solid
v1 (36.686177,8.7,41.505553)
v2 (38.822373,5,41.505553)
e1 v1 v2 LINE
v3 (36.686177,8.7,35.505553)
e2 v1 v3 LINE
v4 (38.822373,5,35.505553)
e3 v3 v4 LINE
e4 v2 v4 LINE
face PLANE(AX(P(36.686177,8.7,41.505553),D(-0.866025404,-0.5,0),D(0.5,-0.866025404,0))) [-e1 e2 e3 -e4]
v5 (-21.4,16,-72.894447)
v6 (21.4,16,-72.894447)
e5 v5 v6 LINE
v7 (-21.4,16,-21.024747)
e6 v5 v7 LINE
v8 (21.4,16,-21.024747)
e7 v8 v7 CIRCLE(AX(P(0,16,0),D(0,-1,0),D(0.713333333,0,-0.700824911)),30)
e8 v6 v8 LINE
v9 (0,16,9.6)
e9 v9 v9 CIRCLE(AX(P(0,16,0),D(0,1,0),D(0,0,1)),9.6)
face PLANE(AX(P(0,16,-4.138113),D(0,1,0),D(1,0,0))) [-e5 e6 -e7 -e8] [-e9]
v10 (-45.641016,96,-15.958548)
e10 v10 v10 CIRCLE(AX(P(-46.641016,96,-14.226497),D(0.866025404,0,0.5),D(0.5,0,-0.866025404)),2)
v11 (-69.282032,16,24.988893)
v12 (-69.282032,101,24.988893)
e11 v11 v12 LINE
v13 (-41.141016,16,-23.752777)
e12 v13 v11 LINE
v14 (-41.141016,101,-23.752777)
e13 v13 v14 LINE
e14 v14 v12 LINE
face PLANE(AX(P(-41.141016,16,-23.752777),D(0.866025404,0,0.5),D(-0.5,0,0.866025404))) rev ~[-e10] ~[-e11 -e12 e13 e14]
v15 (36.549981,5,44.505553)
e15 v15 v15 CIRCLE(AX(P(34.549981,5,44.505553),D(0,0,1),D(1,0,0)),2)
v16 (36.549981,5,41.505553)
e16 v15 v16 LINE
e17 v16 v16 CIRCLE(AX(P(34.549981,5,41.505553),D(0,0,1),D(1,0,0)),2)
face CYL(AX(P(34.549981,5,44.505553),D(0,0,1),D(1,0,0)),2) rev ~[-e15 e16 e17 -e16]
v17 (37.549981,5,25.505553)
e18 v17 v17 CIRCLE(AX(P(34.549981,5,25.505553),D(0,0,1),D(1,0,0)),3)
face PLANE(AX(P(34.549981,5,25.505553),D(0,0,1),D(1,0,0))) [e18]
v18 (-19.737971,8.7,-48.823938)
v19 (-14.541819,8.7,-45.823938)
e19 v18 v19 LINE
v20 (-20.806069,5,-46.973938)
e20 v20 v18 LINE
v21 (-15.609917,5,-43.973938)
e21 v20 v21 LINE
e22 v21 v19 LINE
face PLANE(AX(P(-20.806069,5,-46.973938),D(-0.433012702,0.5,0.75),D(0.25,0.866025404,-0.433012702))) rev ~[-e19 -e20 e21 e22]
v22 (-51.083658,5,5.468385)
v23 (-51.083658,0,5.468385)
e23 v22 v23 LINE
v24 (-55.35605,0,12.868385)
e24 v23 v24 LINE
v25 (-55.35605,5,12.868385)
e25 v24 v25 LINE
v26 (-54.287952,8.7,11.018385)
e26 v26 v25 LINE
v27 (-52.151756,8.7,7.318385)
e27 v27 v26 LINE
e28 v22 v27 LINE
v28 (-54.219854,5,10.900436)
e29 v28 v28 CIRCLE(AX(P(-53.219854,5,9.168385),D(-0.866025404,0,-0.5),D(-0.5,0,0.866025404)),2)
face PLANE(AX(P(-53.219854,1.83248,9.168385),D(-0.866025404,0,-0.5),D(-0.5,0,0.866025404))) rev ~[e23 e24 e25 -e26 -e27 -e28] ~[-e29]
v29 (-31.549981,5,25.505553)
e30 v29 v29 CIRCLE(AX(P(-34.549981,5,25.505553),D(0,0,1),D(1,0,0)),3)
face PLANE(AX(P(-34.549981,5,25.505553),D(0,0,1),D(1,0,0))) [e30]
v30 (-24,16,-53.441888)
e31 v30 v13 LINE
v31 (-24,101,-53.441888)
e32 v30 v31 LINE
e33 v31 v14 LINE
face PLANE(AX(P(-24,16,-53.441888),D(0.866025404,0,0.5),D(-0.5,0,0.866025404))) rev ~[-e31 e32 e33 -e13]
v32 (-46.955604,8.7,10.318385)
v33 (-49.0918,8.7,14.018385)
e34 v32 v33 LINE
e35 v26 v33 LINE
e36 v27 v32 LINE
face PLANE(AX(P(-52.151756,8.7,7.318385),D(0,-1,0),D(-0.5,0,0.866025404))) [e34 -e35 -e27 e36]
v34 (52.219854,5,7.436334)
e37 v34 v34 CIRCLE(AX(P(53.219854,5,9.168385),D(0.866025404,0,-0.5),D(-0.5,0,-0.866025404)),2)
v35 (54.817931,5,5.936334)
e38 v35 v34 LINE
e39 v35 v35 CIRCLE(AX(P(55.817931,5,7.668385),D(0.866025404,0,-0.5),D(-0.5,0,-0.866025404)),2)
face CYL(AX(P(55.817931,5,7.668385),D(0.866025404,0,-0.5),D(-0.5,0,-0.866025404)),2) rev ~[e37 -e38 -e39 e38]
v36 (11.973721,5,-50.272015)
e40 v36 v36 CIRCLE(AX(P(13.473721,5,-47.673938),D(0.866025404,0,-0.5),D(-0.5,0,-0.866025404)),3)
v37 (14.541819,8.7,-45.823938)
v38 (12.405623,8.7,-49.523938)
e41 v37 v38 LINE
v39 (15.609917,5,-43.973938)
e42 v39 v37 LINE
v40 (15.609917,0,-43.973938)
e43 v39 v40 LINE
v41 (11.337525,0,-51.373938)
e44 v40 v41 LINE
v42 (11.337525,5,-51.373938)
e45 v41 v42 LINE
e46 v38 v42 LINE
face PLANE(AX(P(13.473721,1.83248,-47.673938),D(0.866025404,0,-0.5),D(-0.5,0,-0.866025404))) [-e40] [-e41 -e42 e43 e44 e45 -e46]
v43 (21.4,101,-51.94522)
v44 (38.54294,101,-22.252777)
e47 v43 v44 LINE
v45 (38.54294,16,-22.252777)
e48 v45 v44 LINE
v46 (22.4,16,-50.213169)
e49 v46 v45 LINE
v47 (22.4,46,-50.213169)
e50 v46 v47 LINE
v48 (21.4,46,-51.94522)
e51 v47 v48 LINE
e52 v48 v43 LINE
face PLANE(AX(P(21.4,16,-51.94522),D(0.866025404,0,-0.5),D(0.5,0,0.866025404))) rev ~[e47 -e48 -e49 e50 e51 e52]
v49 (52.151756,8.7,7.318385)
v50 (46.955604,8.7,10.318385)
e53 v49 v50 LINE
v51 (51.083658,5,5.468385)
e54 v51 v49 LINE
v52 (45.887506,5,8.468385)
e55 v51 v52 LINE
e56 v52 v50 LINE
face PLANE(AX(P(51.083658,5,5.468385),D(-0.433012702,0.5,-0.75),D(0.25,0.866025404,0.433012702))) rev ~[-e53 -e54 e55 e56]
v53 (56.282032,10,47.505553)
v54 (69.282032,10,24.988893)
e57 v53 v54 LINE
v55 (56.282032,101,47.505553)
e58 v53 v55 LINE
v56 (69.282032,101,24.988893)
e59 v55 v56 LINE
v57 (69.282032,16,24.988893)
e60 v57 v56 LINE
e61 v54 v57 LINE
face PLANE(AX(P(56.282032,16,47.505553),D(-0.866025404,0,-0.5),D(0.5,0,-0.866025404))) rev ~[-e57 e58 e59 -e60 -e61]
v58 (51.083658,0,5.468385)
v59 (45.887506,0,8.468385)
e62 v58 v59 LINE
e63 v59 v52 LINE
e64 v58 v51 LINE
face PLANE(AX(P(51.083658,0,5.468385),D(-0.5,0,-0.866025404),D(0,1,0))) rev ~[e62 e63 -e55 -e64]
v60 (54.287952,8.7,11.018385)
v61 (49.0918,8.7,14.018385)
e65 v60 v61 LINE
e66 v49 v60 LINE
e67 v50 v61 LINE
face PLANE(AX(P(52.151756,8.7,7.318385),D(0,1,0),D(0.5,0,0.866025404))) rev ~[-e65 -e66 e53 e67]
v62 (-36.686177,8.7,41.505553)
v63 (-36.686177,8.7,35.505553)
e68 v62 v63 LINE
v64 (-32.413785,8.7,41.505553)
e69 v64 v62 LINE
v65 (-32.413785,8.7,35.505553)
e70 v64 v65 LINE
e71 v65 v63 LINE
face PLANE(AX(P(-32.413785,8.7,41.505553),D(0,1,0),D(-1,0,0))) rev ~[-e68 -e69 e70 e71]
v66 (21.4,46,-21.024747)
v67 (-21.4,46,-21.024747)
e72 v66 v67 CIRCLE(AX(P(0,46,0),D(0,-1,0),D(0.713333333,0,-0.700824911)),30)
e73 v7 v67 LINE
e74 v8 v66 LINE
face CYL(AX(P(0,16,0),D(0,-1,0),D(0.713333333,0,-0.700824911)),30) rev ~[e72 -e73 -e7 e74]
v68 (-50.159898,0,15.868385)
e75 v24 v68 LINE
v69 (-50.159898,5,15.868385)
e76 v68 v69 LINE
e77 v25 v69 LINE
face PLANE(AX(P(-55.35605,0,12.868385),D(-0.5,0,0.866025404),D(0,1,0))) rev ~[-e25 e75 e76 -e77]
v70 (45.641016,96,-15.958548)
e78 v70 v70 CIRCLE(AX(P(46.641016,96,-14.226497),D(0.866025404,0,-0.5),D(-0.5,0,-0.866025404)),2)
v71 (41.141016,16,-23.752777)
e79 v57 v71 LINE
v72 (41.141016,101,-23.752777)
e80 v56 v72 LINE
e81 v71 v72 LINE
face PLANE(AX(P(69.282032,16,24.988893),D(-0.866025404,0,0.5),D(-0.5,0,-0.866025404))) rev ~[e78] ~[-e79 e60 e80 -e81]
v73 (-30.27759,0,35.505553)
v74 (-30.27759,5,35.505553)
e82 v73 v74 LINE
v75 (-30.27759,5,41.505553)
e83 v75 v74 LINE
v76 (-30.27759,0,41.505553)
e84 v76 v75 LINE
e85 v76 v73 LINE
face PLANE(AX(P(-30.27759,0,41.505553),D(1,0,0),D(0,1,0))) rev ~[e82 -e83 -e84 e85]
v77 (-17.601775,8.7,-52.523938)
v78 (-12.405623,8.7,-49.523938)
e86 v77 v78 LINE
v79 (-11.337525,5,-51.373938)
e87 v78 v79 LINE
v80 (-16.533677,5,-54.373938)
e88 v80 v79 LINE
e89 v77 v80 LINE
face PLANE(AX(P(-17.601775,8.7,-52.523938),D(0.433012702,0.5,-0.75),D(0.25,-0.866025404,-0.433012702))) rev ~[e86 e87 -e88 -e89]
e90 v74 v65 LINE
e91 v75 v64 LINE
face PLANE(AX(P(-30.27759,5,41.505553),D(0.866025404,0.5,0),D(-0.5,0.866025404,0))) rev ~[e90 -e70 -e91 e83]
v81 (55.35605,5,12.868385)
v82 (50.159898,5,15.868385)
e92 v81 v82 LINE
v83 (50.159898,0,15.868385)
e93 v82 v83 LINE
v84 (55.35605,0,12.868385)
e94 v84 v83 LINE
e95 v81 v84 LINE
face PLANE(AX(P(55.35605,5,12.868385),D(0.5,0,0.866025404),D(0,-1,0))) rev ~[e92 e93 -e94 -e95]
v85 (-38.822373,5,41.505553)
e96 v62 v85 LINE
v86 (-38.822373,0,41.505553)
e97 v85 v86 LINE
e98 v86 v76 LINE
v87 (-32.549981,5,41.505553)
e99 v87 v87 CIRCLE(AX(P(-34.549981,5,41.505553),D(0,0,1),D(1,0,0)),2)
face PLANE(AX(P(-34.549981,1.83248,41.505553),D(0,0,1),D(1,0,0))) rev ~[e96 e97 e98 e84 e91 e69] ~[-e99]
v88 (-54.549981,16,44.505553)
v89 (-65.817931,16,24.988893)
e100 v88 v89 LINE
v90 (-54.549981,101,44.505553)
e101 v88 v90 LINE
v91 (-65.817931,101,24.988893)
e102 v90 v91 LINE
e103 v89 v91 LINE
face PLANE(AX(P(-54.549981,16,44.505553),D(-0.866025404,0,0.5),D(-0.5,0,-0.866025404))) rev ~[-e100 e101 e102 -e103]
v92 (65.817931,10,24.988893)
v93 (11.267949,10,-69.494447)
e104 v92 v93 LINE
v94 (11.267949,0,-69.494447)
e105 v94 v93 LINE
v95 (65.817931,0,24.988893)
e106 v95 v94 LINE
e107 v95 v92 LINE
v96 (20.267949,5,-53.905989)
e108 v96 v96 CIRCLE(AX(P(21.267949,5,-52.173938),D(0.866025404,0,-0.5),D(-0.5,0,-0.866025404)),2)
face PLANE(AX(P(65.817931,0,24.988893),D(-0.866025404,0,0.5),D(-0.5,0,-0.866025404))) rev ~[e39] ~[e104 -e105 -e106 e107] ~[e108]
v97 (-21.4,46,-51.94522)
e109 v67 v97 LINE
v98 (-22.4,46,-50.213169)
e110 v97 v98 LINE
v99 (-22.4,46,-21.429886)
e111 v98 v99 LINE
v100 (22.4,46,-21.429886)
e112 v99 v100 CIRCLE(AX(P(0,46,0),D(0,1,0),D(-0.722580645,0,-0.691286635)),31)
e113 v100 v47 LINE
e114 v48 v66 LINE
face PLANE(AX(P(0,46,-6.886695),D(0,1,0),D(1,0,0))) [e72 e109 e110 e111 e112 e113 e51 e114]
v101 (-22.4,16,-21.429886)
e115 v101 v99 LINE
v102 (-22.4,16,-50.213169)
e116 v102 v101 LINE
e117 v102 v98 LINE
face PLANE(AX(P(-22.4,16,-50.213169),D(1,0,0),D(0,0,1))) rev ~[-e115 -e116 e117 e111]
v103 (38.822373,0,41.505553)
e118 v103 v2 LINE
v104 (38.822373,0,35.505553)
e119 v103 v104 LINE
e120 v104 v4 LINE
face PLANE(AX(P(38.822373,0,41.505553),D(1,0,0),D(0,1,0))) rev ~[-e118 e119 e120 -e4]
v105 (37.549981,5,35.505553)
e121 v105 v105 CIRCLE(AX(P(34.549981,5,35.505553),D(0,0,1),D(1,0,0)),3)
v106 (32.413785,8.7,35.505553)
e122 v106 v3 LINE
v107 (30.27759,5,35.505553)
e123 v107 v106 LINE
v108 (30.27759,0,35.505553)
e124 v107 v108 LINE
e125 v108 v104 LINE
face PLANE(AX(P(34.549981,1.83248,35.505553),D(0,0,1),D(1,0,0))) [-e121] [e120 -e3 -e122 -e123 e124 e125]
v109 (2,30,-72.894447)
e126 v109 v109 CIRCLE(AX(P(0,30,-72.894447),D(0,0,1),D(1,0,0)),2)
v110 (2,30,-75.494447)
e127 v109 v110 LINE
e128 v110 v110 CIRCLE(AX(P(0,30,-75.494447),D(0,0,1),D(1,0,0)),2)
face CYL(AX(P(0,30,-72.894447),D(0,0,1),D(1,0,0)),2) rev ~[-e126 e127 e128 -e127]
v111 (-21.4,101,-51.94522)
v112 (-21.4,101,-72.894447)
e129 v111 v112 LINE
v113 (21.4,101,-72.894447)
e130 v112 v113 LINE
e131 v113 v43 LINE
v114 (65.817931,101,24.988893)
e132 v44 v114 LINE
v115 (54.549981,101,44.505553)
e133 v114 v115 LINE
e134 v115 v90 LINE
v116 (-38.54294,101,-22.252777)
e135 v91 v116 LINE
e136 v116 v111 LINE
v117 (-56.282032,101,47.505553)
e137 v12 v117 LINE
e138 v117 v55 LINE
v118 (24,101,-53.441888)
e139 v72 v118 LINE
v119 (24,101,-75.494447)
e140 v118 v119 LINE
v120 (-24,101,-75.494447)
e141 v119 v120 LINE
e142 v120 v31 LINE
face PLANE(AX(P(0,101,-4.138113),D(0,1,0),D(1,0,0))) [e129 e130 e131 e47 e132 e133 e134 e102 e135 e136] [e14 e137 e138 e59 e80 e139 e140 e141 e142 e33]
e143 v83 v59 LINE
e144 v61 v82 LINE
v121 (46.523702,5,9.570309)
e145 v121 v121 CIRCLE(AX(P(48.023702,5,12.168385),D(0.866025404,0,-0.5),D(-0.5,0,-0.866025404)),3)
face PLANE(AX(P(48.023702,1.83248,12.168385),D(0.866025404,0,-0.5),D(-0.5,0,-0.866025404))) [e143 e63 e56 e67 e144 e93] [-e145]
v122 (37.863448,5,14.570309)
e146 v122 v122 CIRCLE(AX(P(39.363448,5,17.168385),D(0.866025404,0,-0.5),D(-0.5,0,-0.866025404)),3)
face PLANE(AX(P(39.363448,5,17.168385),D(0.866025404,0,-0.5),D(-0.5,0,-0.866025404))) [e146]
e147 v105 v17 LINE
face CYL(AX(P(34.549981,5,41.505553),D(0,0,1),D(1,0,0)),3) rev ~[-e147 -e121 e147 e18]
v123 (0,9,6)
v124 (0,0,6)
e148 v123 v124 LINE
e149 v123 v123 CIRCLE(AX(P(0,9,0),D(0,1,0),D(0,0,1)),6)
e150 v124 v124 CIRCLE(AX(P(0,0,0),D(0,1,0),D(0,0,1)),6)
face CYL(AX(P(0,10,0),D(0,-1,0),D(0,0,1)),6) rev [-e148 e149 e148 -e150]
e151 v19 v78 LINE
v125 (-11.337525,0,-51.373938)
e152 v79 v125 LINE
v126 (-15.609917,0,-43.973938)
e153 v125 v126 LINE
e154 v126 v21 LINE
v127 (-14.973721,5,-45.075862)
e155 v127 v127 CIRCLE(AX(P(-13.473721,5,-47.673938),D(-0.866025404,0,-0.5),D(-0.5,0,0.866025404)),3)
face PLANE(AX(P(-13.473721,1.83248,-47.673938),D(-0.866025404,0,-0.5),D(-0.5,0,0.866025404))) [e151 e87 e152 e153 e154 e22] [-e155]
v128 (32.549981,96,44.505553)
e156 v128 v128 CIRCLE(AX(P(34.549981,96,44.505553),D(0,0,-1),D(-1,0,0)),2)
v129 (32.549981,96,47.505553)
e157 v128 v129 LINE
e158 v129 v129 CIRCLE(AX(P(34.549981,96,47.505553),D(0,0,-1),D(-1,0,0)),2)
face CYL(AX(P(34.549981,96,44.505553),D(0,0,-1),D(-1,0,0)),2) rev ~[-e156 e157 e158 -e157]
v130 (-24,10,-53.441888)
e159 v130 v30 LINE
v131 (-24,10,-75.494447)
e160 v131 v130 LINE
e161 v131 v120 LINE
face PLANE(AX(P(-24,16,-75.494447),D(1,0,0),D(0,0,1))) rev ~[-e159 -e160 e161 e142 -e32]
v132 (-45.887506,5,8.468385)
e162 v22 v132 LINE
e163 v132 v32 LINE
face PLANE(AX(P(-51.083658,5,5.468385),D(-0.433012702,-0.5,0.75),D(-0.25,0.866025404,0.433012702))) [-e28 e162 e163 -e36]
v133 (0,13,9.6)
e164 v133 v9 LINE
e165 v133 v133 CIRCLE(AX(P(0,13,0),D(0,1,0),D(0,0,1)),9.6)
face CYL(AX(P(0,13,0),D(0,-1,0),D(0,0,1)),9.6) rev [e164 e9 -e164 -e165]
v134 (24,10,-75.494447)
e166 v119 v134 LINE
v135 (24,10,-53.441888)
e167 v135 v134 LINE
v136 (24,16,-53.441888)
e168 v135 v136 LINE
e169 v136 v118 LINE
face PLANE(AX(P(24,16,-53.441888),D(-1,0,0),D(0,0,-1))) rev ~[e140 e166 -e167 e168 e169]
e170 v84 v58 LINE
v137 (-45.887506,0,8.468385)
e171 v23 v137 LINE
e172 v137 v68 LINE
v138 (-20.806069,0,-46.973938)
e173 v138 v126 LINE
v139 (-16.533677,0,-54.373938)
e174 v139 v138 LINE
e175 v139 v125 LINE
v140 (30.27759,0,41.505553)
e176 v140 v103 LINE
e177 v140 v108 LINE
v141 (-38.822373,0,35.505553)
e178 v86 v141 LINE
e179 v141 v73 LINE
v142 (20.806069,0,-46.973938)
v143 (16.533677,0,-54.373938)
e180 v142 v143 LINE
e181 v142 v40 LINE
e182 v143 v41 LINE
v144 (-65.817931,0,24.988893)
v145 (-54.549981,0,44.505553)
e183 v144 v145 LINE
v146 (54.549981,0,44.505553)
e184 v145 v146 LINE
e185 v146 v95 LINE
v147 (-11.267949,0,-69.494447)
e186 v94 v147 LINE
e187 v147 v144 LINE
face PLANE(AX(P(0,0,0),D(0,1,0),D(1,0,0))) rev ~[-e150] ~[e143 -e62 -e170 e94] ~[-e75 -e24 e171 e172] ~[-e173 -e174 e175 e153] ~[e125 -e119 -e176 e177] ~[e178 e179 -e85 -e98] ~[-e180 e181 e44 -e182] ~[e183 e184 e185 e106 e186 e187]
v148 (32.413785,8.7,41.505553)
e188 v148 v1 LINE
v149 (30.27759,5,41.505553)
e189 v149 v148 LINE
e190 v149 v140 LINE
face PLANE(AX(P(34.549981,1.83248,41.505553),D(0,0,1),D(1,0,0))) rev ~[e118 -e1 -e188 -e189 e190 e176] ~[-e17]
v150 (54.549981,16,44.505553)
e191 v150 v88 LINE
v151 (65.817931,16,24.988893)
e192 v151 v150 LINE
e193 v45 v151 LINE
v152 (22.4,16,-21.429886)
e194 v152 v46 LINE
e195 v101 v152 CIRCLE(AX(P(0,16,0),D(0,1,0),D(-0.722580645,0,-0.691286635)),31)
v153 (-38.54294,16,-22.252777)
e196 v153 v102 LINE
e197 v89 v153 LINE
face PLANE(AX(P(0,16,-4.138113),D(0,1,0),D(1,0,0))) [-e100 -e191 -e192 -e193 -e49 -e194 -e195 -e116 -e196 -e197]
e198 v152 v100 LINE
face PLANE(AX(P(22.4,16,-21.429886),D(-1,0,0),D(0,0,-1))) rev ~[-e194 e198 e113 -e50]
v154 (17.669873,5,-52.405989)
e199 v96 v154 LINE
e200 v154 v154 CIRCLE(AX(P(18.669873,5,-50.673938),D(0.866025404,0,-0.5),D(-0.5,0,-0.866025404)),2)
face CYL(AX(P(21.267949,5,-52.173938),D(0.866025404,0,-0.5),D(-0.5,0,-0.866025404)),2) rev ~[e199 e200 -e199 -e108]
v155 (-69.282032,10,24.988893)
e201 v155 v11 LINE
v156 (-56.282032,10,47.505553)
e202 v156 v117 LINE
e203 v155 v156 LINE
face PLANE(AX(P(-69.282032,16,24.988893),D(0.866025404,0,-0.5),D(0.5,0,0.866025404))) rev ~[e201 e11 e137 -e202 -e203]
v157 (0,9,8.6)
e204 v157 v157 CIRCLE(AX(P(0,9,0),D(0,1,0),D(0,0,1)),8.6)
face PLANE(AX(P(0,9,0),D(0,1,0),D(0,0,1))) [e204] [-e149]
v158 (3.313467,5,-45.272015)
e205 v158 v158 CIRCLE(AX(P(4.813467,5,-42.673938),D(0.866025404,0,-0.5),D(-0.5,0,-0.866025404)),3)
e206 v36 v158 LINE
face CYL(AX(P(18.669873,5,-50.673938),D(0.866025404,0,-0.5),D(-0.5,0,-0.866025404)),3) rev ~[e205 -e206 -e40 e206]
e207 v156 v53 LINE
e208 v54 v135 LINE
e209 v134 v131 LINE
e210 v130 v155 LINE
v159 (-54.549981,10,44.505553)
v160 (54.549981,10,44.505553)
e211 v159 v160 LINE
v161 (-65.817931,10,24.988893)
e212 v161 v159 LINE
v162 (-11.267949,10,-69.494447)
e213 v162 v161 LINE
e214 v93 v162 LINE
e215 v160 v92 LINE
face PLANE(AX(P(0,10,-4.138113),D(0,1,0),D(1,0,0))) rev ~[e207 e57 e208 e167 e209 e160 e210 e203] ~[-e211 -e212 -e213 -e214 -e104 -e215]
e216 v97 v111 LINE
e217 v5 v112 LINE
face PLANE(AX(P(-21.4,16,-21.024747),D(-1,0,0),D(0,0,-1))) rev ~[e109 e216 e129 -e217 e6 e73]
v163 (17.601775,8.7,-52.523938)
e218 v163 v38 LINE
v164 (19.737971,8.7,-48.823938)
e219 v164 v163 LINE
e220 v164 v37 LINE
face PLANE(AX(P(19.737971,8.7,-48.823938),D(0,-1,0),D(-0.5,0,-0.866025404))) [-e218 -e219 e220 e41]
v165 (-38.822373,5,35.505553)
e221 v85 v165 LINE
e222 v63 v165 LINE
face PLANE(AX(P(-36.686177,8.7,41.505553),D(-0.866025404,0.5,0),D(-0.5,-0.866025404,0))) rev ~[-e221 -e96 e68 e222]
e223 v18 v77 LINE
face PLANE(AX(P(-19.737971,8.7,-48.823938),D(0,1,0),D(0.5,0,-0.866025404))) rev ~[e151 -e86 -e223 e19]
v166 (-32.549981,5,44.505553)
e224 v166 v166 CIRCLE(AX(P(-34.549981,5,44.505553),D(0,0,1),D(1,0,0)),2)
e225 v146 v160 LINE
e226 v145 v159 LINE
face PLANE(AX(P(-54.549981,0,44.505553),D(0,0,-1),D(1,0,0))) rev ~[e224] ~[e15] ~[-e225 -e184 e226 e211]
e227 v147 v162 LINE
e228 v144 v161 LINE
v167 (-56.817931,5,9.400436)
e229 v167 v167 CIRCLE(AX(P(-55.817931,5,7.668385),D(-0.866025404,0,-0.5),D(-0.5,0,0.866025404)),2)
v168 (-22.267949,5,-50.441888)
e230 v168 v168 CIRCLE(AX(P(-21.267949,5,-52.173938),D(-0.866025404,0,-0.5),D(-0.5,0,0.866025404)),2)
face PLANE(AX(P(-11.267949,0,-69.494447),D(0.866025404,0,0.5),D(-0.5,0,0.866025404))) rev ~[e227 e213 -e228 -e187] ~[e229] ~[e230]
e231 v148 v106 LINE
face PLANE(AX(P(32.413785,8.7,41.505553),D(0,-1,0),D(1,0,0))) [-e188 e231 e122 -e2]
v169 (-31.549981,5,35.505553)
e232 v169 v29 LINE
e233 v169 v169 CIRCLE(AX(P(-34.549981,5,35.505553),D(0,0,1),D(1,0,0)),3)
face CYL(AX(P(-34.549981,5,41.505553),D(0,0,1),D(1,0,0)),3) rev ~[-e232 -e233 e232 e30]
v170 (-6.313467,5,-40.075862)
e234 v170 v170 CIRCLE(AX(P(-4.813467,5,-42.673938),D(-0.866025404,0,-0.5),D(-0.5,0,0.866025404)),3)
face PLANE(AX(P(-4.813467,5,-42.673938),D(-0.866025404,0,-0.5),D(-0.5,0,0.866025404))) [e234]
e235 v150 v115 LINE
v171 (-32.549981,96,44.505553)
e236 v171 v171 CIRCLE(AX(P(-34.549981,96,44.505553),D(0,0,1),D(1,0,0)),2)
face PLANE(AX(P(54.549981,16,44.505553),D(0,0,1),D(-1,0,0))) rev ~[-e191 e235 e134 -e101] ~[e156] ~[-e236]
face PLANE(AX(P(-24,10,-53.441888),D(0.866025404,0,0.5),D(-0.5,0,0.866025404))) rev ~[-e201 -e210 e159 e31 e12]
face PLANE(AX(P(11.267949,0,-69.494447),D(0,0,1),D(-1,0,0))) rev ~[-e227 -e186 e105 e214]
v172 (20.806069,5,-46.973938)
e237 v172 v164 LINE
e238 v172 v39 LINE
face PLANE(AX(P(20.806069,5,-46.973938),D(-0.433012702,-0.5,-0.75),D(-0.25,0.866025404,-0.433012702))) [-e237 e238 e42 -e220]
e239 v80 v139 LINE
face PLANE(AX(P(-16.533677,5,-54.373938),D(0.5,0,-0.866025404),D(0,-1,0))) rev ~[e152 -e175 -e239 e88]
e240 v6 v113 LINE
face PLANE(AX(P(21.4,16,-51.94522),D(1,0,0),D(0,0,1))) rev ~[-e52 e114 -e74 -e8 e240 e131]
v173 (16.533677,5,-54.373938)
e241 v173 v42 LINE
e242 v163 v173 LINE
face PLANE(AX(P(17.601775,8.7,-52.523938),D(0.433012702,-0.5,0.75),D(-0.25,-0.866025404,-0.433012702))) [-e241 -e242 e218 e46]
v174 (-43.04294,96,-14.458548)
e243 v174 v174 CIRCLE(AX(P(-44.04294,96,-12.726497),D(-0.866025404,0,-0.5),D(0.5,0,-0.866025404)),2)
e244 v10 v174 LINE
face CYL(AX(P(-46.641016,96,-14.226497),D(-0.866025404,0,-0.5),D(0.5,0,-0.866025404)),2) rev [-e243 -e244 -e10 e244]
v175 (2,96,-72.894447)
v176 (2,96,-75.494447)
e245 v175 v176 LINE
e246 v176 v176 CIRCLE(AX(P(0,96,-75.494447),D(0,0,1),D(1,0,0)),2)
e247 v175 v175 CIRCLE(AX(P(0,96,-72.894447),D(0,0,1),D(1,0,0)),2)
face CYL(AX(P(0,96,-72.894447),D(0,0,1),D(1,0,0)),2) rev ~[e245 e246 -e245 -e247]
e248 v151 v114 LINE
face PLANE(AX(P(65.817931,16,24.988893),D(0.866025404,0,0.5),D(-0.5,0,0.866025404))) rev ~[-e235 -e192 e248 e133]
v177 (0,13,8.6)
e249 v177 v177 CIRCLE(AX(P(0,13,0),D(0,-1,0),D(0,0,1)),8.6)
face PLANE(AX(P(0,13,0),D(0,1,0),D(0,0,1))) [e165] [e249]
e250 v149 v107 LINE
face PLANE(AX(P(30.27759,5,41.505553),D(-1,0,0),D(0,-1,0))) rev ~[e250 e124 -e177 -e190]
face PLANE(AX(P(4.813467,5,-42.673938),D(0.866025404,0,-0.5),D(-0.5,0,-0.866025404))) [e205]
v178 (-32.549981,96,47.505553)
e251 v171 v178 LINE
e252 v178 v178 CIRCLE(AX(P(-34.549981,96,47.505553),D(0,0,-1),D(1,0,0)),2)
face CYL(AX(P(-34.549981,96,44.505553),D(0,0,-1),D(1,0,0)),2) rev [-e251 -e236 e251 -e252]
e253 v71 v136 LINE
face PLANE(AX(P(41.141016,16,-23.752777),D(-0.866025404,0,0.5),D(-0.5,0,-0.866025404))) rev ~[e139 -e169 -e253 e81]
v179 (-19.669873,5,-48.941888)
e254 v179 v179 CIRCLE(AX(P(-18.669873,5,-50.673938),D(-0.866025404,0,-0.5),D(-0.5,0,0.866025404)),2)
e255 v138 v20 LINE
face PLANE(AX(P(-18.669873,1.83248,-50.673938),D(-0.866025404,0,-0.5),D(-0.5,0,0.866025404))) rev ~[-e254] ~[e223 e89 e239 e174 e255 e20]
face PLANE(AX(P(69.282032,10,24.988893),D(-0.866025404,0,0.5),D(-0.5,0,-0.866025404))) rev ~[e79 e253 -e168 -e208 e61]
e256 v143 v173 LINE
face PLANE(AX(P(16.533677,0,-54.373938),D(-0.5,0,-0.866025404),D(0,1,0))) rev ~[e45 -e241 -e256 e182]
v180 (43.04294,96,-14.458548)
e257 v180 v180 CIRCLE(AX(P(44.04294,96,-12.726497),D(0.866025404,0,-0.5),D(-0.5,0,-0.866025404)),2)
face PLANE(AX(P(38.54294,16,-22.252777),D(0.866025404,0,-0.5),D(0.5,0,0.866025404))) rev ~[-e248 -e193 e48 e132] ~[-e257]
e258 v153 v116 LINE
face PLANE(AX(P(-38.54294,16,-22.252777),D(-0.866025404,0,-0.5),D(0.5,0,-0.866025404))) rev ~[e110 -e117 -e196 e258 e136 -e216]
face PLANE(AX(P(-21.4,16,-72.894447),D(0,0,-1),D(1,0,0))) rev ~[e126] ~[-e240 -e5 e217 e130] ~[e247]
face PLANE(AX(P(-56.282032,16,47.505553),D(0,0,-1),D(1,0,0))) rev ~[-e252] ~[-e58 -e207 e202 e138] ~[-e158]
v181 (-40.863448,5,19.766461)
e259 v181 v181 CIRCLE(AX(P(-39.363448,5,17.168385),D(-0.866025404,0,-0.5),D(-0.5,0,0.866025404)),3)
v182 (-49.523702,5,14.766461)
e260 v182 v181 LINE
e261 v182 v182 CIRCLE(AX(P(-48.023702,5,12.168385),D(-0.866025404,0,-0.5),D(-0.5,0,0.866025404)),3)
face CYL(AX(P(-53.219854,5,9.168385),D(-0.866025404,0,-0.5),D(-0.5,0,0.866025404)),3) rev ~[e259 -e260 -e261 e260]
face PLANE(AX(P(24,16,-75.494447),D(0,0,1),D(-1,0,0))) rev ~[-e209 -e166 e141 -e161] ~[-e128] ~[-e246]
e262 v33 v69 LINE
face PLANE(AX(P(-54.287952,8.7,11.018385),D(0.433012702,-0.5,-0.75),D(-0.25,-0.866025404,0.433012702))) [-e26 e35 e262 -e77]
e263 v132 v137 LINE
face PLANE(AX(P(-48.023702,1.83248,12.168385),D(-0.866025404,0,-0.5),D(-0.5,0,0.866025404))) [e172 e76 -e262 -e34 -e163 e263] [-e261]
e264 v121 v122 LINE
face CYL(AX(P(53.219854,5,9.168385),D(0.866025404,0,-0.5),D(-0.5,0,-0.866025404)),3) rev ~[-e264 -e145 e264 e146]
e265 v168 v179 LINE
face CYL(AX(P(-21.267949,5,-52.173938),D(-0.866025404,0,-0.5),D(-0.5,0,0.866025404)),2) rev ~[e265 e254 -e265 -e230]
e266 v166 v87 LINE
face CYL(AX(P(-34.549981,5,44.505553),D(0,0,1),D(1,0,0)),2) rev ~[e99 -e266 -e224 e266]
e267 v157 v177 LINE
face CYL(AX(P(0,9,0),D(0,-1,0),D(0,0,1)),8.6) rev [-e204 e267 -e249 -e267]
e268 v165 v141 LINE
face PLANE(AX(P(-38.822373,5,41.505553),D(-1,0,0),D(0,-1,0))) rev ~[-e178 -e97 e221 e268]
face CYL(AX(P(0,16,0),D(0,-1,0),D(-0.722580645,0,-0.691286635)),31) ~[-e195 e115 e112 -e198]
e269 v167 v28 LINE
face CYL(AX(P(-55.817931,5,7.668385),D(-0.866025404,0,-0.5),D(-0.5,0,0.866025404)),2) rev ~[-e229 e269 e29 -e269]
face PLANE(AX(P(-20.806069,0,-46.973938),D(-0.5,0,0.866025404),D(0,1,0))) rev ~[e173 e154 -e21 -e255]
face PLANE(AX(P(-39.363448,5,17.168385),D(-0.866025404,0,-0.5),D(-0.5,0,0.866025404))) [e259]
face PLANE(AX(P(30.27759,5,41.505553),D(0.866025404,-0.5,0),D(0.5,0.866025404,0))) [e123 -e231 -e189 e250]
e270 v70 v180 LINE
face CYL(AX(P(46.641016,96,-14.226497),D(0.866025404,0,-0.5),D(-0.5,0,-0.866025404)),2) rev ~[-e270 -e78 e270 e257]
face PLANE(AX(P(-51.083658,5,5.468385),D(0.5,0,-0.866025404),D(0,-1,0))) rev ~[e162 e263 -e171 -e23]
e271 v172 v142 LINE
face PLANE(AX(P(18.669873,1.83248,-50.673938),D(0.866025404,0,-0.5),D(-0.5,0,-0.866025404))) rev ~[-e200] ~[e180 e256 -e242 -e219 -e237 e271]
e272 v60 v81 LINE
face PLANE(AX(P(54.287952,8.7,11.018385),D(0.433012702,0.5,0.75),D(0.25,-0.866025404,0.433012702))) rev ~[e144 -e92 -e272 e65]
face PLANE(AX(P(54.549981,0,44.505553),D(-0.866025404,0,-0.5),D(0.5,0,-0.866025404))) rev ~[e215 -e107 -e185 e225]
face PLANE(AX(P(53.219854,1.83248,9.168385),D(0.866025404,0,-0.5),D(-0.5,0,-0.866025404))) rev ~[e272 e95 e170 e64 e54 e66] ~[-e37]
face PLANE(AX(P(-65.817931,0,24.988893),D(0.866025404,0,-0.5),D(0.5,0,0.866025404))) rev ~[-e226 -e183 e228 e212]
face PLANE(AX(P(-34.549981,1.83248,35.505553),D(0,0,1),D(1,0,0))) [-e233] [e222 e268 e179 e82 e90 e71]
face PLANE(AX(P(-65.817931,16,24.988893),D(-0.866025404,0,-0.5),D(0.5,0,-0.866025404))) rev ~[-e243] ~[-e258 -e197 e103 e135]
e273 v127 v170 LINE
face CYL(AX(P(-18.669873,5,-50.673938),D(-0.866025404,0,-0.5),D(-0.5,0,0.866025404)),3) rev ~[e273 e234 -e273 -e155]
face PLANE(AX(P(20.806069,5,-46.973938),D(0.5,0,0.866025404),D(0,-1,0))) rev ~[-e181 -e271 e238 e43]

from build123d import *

# Parameters (mm, degrees)
SKETCH1_R           = 6
BOSS_EXTRUDE1_DEPTH = 10
BOSS_EXTRUDE2_START = 10
SKETCH1_3_R         = 6
BOSS_EXTRUDE2_DEPTH = 6
BOSS_EXTRUDE3_START = 16
BOSS_EXTRUDE3_DEPTH = 85
SKETCH3_R           = 2
CUT_EXTRUDE1_DEPTH  = 3
CUT_EXTRUDE7_START  = -3
SKETCH3_8_R         = 2
SKETCH3_8_R_2       = 3
CUT_EXTRUDE7_DEPTH  = 6
CUT_EXTRUDE8_START  = -3
SKETCH3_11_R        = 3
SKETCH3_11_R_2      = 2
CUT_EXTRUDE8_DEPTH  = 16
CIRPATTERN1_COUNT   = 3
SKETCH4_R           = 2
CUT_EXTRUDE9_DEPTH  = 16
BOSS_EXTRUDE4_DEPTH = 30
SKETCH6_R           = 2
CUT_EXTRUDE10_DEPTH = 30
SKETCH8_R           = 2
CUT_EXTRUDE11_DEPTH = 30
CUT_EXTRUDE12_START = 13
SKETCH1_5_R         = 9.6
SKETCH1_5_R_2       = 8.6
SKETCH1_5_R_3       = 6
CUT_EXTRUDE12_DEPTH = 3
CUT_EXTRUDE13_START = 9
SKETCH1_6_R         = 8.6
SKETCH1_6_R_2       = 6
CUT_EXTRUDE13_DEPTH = 7


with BuildPart() as part:
    # Sketch1 → Boss-Extrude1 (new body)
    with BuildSketch(Plane(origin=(0, 0, 0), x_dir=(1, 0, 0), z_dir=(0, 1, 0))):
        Polygon((-11.267949192, 69.494446501), (-65.817930688, -24.988893001), (-54.549981495, -44.505553499), (54.549981495, -44.505553499), (65.817930688, -24.988893001), (11.267949192, 69.494446501), align=None)
        with Locations(Location((0, 0, 0), (0, 0, 270))):
            Circle(SKETCH1_R, mode=Mode.SUBTRACT)
    extrude(amount=BOSS_EXTRUDE1_DEPTH)

    # Sketch1<3> → Boss-Extrude2 (add)
    with BuildSketch(Plane(origin=(0, 0, 0), x_dir=(1, 0, 0), z_dir=(0, 1, 0)).offset(BOSS_EXTRUDE2_START)):
        Polygon((24, 75.494446501), (-24, 75.494446501), (-24, 53.441887617), (-69.282032303, -24.988893001), (-56.282032303, -47.505553499), (56.282032303, -47.505553499), (69.282032303, -24.988893001), (24, 53.441887617), align=None)
        with Locations(Location((0, 0, 0), (0, 0, 270))):
            Circle(SKETCH1_3_R, mode=Mode.SUBTRACT)
    extrude(amount=BOSS_EXTRUDE2_DEPTH)

    # Sketch1<4> → Boss-Extrude3 (add)
    with BuildSketch(Plane(origin=(0, 0, 0), x_dir=(1, 0, 0), z_dir=(0, 1, 0)).offset(BOSS_EXTRUDE3_START)):
        Polygon((24, 75.494446501), (-24, 75.494446501), (-24, 53.441887617), (-41.141016151, 23.75277675), (-69.282032303, -24.988893001), (-56.282032303, -47.505553499), (0, -47.505553499), (56.282032303, -47.505553499), (69.282032303, -24.988893001), (41.141016151, 23.75277675), (24, 53.441887617), align=None)
        Polygon((-21.4, 51.945219717), (-21.4, 57.945219717), (-21.4, 72.894446501), (21.4, 72.894446501), (21.4, 57.945219717), (21.4, 51.945219717), (38.54293994, 22.25277675), (65.817930688, -24.988893001), (54.549981495, -44.505553499), (0, -44.505553499), (-54.549981495, -44.505553499), (-65.817930688, -24.988893001), (-38.54293994, 22.25277675), align=None, mode=Mode.SUBTRACT)
    extrude(amount=BOSS_EXTRUDE3_DEPTH)

    # Sketch3 → Cut-Extrude1 (cut)
    with BuildSketch(Plane(origin=(38.54293994, 0, -22.25277675), x_dir=(-0.5000000000000011, 0, -0.866025403784438), z_dir=(0.8660254037844382, 0, -0.5000000000000011))):
        with Locations((-34.549981495, 5)):
            Circle(SKETCH3_R)
        with Locations((34.549981495, 5)):
            Circle(SKETCH3_R)
    cut_extrude1 = extrude(amount=-CUT_EXTRUDE1_DEPTH, mode=Mode.SUBTRACT)

    # Sketch3<8> → Cut-Extrude7 (cut)
    # profile 1 of 8: a face of its own
    with BuildSketch(Plane(origin=(38.54293994, 0, -22.25277675), x_dir=(-0.5000000000000011, 0, -0.866025403784438), z_dir=(0.8660254037844382, 0, -0.5000000000000011)).offset(CUT_EXTRUDE7_START)):
        Polygon((-32.413785499, 8.7), (-36.686177491, 8.7), (-38.822373487, 5), (-36.686177491, 1.3), (-32.413785499, 1.3), (-30.277589503, 5), align=None)
        with Locations((-34.549981495, 5)):
            Circle(SKETCH3_8_R, mode=Mode.SUBTRACT)
    # profile 2 of 8: a face of its own
    with BuildSketch(Plane(origin=(38.54293994, 0, -22.25277675), x_dir=(-0.5000000000000011, 0, -0.866025403784438), z_dir=(0.8660254037844382, 0, -0.5000000000000011)).offset(CUT_EXTRUDE7_START)):
        Polygon((-38.822373487, 0), (-30.277589503, 0), (-30.277589503, 5), (-32.413785499, 1.3), (-36.686177491, 1.3), (-38.822373487, 5), align=None)
    # profile 3 of 8: a face of its own
    with BuildSketch(Plane(origin=(38.54293994, 0, -22.25277675), x_dir=(-0.5000000000000011, 0, -0.866025403784438), z_dir=(0.8660254037844382, 0, -0.5000000000000011)).offset(CUT_EXTRUDE7_START)):
        Polygon((38.822373487, 5), (36.686177491, 1.3), (32.413785499, 1.3), (30.277589503, 5), (32.413785499, 8.7), (36.686177491, 8.7), align=None)
        with Locations((34.549981495, 5)):
            Circle(SKETCH3_8_R, mode=Mode.SUBTRACT)
    # profile 4 of 8: a face of its own
    with BuildSketch(Plane(origin=(38.54293994, 0, -22.25277675), x_dir=(-0.5000000000000011, 0, -0.866025403784438), z_dir=(0.8660254037844382, 0, -0.5000000000000011)).offset(CUT_EXTRUDE7_START)):
        Polygon((38.822373487, 0), (38.822373487, 5), (36.686177491, 1.3), (32.413785499, 1.3), (30.277589503, 5), (30.277589503, 0), align=None)
    # profile 5 of 8: a face of its own
    with BuildSketch(Plane(origin=(38.54293994, 0, -22.25277675), x_dir=(-0.5000000000000011, 0, -0.866025403784438), z_dir=(0.8660254037844382, 0, -0.5000000000000011)).offset(CUT_EXTRUDE7_START)):
        with Locations((-34.549981495, 5)):
            Circle(SKETCH3_8_R_2)
        with Locations((-34.549981495, 5)):
            Circle(SKETCH3_8_R, mode=Mode.SUBTRACT)
    # profile 6 of 8: a face of its own
    with BuildSketch(Plane(origin=(38.54293994, 0, -22.25277675), x_dir=(-0.5000000000000011, 0, -0.866025403784438), z_dir=(0.8660254037844382, 0, -0.5000000000000011)).offset(CUT_EXTRUDE7_START)):
        with Locations((-34.549981495, 5)):
            Circle(SKETCH3_8_R)
    # profile 7 of 8: a face of its own
    with BuildSketch(Plane(origin=(38.54293994, 0, -22.25277675), x_dir=(-0.5000000000000011, 0, -0.866025403784438), z_dir=(0.8660254037844382, 0, -0.5000000000000011)).offset(CUT_EXTRUDE7_START)):
        with Locations((34.549981495, 5)):
            Circle(SKETCH3_8_R_2)
        with Locations((34.549981495, 5)):
            Circle(SKETCH3_8_R, mode=Mode.SUBTRACT)
    # profile 8 of 8: a face of its own
    with BuildSketch(Plane(origin=(38.54293994, 0, -22.25277675), x_dir=(-0.5000000000000011, 0, -0.866025403784438), z_dir=(0.8660254037844382, 0, -0.5000000000000011)).offset(CUT_EXTRUDE7_START)):
        with Locations((34.549981495, 5)):
            Circle(SKETCH3_8_R)
    cut_extrude7 = extrude(amount=-CUT_EXTRUDE7_DEPTH, mode=Mode.SUBTRACT)

    # Sketch3<11> → Cut-Extrude8 (cut)
    # profile 1 of 4: a face of its own
    with BuildSketch(Plane(origin=(38.54293994, 0, -22.25277675), x_dir=(-0.5000000000000011, 0, -0.866025403784438), z_dir=(0.8660254037844382, 0, -0.5000000000000011)).offset(CUT_EXTRUDE8_START)):
        with Locations((-34.549981495, 5)):
            Circle(SKETCH3_11_R)
        with Locations((-34.549981495, 5)):
            Circle(SKETCH3_11_R_2, mode=Mode.SUBTRACT)
    # profile 2 of 4: a face of its own
    with BuildSketch(Plane(origin=(38.54293994, 0, -22.25277675), x_dir=(-0.5000000000000011, 0, -0.866025403784438), z_dir=(0.8660254037844382, 0, -0.5000000000000011)).offset(CUT_EXTRUDE8_START)):
        with Locations((34.549981495, 5)):
            Circle(SKETCH3_11_R)
        with Locations((34.549981495, 5)):
            Circle(SKETCH3_11_R_2, mode=Mode.SUBTRACT)
    # profile 3 of 4: a face of its own
    with BuildSketch(Plane(origin=(38.54293994, 0, -22.25277675), x_dir=(-0.5000000000000011, 0, -0.866025403784438), z_dir=(0.8660254037844382, 0, -0.5000000000000011)).offset(CUT_EXTRUDE8_START)):
        with Locations((-34.549981495, 5)):
            Circle(SKETCH3_11_R_2)
    # profile 4 of 4: a face of its own
    with BuildSketch(Plane(origin=(38.54293994, 0, -22.25277675), x_dir=(-0.5000000000000011, 0, -0.866025403784438), z_dir=(0.8660254037844382, 0, -0.5000000000000011)).offset(CUT_EXTRUDE8_START)):
        with Locations((34.549981495, 5)):
            Circle(SKETCH3_11_R_2)
    cut_extrude8 = extrude(amount=-CUT_EXTRUDE8_DEPTH, mode=Mode.SUBTRACT)

    # CirPattern1: Cut-Extrude1, Cut-Extrude7, Cut-Extrude8 ×3 about axis
    cirpattern1_axis = Axis((0, 0, 0), (0, 1, 0))
    add([cut_extrude1.rotate(cirpattern1_axis, i * 360 / CIRPATTERN1_COUNT) for i in range(1, CIRPATTERN1_COUNT)], mode=Mode.SUBTRACT)
    add([cut_extrude7.rotate(cirpattern1_axis, i * 360 / CIRPATTERN1_COUNT) for i in range(1, CIRPATTERN1_COUNT)], mode=Mode.SUBTRACT)
    add([cut_extrude8.rotate(cirpattern1_axis, i * 360 / CIRPATTERN1_COUNT) for i in range(1, CIRPATTERN1_COUNT)], mode=Mode.SUBTRACT)

    # Sketch4 → Cut-Extrude9 (cut)
    with BuildSketch(Plane.XY.offset(-72.894446501)):
        with Locations((0, 30)):
            Circle(SKETCH4_R)
        with Locations((0, 96)):
            Circle(SKETCH4_R)
    extrude(amount=-CUT_EXTRUDE9_DEPTH, mode=Mode.SUBTRACT)

    # Sketch5 → Boss-Extrude4 (add)
    with BuildSketch(Plane(origin=(0, 16, 0), x_dir=(1, 0, 0), z_dir=(0, 1, 0))):
        with BuildLine():
            Line((21.4, 51.945219717), (21.4, 21.024747323))
            ThreePointArc((21.4, 21.024747323), (0, -30), (-21.4, 21.024747323))
            Line((-21.4, 21.024747323), (-21.4, 51.945219717))
            Line((-21.4, 51.945219717), (-22.4, 50.213168909))
            Line((-22.4, 50.213168909), (-22.4, 21.429885674))
            ThreePointArc((-22.4, 21.429885674), (0, -31), (22.4, 21.429885674))
            Line((22.4, 21.429885674), (22.4, 50.213168909))
            Line((22.4, 50.213168909), (21.4, 51.945219717))
        make_face()
    extrude(amount=BOSS_EXTRUDE4_DEPTH)

    # Sketch6 → Cut-Extrude10 (cut)
    with BuildSketch(Plane(origin=(41.141016151, 0, -23.75277675), x_dir=(-0.5000000000000007, 0, -0.8660254037844382), z_dir=(0.8660254037844383, 0, -0.5000000000000008))):
        with Locations((-11, 96)):
            Circle(SKETCH6_R)
    cut_extrude10 = extrude(amount=-CUT_EXTRUDE10_DEPTH, mode=Mode.SUBTRACT)

    # Sketch8 → Cut-Extrude11 (cut)
    with BuildSketch(Plane(origin=(0, 0, 44.505553499), x_dir=(-1, 0, 0), z_dir=(0, 0, -1))):
        with Locations((-34.549981495, 96)):
            Circle(SKETCH8_R)
    cut_extrude11 = extrude(amount=-CUT_EXTRUDE11_DEPTH, mode=Mode.SUBTRACT)

    # Mirror1: Cut-Extrude10, Cut-Extrude11 across plane
    add(cut_extrude10.mirror(Plane(origin=(0, 0, 0), x_dir=(0, 0, 1), z_dir=(1, 0, 0))), mode=Mode.SUBTRACT)
    add(cut_extrude11.mirror(Plane(origin=(0, 0, 0), x_dir=(0, 0, 1), z_dir=(1, 0, 0))), mode=Mode.SUBTRACT)

    # Sketch1<5> → Cut-Extrude12 (cut)
    # profile 1 of 2: a face of its own
    with BuildSketch(Plane(origin=(0, 0, 0), x_dir=(1, 0, 0), z_dir=(0, 1, 0)).offset(CUT_EXTRUDE12_START)):
        with Locations(Location((0, 0, 0), (0, 0, 270))):
            Circle(SKETCH1_5_R)
        Circle(SKETCH1_5_R_2, mode=Mode.SUBTRACT)
    # profile 2 of 2: a face of its own
    with BuildSketch(Plane(origin=(0, 0, 0), x_dir=(1, 0, 0), z_dir=(0, 1, 0)).offset(CUT_EXTRUDE12_START)):
        Circle(SKETCH1_5_R_2)
        with Locations(Location((0, 0, 0), (0, 0, 270))):
            Circle(SKETCH1_5_R_3, mode=Mode.SUBTRACT)
    extrude(amount=CUT_EXTRUDE12_DEPTH, mode=Mode.SUBTRACT)

    # Sketch1<6> → Cut-Extrude13 (cut)
    with BuildSketch(Plane(origin=(0, 0, 0), x_dir=(1, 0, 0), z_dir=(0, 1, 0)).offset(CUT_EXTRUDE13_START)):
        with Locations(Location((0, 0, 0), (0, 0, 270))):
            Circle(SKETCH1_6_R)
        with Locations(Location((0, 0, 0), (0, 0, 270))):
            Circle(SKETCH1_6_R_2, mode=Mode.SUBTRACT)
    extrude(amount=CUT_EXTRUDE13_DEPTH, mode=Mode.SUBTRACT)


solid = part.part
